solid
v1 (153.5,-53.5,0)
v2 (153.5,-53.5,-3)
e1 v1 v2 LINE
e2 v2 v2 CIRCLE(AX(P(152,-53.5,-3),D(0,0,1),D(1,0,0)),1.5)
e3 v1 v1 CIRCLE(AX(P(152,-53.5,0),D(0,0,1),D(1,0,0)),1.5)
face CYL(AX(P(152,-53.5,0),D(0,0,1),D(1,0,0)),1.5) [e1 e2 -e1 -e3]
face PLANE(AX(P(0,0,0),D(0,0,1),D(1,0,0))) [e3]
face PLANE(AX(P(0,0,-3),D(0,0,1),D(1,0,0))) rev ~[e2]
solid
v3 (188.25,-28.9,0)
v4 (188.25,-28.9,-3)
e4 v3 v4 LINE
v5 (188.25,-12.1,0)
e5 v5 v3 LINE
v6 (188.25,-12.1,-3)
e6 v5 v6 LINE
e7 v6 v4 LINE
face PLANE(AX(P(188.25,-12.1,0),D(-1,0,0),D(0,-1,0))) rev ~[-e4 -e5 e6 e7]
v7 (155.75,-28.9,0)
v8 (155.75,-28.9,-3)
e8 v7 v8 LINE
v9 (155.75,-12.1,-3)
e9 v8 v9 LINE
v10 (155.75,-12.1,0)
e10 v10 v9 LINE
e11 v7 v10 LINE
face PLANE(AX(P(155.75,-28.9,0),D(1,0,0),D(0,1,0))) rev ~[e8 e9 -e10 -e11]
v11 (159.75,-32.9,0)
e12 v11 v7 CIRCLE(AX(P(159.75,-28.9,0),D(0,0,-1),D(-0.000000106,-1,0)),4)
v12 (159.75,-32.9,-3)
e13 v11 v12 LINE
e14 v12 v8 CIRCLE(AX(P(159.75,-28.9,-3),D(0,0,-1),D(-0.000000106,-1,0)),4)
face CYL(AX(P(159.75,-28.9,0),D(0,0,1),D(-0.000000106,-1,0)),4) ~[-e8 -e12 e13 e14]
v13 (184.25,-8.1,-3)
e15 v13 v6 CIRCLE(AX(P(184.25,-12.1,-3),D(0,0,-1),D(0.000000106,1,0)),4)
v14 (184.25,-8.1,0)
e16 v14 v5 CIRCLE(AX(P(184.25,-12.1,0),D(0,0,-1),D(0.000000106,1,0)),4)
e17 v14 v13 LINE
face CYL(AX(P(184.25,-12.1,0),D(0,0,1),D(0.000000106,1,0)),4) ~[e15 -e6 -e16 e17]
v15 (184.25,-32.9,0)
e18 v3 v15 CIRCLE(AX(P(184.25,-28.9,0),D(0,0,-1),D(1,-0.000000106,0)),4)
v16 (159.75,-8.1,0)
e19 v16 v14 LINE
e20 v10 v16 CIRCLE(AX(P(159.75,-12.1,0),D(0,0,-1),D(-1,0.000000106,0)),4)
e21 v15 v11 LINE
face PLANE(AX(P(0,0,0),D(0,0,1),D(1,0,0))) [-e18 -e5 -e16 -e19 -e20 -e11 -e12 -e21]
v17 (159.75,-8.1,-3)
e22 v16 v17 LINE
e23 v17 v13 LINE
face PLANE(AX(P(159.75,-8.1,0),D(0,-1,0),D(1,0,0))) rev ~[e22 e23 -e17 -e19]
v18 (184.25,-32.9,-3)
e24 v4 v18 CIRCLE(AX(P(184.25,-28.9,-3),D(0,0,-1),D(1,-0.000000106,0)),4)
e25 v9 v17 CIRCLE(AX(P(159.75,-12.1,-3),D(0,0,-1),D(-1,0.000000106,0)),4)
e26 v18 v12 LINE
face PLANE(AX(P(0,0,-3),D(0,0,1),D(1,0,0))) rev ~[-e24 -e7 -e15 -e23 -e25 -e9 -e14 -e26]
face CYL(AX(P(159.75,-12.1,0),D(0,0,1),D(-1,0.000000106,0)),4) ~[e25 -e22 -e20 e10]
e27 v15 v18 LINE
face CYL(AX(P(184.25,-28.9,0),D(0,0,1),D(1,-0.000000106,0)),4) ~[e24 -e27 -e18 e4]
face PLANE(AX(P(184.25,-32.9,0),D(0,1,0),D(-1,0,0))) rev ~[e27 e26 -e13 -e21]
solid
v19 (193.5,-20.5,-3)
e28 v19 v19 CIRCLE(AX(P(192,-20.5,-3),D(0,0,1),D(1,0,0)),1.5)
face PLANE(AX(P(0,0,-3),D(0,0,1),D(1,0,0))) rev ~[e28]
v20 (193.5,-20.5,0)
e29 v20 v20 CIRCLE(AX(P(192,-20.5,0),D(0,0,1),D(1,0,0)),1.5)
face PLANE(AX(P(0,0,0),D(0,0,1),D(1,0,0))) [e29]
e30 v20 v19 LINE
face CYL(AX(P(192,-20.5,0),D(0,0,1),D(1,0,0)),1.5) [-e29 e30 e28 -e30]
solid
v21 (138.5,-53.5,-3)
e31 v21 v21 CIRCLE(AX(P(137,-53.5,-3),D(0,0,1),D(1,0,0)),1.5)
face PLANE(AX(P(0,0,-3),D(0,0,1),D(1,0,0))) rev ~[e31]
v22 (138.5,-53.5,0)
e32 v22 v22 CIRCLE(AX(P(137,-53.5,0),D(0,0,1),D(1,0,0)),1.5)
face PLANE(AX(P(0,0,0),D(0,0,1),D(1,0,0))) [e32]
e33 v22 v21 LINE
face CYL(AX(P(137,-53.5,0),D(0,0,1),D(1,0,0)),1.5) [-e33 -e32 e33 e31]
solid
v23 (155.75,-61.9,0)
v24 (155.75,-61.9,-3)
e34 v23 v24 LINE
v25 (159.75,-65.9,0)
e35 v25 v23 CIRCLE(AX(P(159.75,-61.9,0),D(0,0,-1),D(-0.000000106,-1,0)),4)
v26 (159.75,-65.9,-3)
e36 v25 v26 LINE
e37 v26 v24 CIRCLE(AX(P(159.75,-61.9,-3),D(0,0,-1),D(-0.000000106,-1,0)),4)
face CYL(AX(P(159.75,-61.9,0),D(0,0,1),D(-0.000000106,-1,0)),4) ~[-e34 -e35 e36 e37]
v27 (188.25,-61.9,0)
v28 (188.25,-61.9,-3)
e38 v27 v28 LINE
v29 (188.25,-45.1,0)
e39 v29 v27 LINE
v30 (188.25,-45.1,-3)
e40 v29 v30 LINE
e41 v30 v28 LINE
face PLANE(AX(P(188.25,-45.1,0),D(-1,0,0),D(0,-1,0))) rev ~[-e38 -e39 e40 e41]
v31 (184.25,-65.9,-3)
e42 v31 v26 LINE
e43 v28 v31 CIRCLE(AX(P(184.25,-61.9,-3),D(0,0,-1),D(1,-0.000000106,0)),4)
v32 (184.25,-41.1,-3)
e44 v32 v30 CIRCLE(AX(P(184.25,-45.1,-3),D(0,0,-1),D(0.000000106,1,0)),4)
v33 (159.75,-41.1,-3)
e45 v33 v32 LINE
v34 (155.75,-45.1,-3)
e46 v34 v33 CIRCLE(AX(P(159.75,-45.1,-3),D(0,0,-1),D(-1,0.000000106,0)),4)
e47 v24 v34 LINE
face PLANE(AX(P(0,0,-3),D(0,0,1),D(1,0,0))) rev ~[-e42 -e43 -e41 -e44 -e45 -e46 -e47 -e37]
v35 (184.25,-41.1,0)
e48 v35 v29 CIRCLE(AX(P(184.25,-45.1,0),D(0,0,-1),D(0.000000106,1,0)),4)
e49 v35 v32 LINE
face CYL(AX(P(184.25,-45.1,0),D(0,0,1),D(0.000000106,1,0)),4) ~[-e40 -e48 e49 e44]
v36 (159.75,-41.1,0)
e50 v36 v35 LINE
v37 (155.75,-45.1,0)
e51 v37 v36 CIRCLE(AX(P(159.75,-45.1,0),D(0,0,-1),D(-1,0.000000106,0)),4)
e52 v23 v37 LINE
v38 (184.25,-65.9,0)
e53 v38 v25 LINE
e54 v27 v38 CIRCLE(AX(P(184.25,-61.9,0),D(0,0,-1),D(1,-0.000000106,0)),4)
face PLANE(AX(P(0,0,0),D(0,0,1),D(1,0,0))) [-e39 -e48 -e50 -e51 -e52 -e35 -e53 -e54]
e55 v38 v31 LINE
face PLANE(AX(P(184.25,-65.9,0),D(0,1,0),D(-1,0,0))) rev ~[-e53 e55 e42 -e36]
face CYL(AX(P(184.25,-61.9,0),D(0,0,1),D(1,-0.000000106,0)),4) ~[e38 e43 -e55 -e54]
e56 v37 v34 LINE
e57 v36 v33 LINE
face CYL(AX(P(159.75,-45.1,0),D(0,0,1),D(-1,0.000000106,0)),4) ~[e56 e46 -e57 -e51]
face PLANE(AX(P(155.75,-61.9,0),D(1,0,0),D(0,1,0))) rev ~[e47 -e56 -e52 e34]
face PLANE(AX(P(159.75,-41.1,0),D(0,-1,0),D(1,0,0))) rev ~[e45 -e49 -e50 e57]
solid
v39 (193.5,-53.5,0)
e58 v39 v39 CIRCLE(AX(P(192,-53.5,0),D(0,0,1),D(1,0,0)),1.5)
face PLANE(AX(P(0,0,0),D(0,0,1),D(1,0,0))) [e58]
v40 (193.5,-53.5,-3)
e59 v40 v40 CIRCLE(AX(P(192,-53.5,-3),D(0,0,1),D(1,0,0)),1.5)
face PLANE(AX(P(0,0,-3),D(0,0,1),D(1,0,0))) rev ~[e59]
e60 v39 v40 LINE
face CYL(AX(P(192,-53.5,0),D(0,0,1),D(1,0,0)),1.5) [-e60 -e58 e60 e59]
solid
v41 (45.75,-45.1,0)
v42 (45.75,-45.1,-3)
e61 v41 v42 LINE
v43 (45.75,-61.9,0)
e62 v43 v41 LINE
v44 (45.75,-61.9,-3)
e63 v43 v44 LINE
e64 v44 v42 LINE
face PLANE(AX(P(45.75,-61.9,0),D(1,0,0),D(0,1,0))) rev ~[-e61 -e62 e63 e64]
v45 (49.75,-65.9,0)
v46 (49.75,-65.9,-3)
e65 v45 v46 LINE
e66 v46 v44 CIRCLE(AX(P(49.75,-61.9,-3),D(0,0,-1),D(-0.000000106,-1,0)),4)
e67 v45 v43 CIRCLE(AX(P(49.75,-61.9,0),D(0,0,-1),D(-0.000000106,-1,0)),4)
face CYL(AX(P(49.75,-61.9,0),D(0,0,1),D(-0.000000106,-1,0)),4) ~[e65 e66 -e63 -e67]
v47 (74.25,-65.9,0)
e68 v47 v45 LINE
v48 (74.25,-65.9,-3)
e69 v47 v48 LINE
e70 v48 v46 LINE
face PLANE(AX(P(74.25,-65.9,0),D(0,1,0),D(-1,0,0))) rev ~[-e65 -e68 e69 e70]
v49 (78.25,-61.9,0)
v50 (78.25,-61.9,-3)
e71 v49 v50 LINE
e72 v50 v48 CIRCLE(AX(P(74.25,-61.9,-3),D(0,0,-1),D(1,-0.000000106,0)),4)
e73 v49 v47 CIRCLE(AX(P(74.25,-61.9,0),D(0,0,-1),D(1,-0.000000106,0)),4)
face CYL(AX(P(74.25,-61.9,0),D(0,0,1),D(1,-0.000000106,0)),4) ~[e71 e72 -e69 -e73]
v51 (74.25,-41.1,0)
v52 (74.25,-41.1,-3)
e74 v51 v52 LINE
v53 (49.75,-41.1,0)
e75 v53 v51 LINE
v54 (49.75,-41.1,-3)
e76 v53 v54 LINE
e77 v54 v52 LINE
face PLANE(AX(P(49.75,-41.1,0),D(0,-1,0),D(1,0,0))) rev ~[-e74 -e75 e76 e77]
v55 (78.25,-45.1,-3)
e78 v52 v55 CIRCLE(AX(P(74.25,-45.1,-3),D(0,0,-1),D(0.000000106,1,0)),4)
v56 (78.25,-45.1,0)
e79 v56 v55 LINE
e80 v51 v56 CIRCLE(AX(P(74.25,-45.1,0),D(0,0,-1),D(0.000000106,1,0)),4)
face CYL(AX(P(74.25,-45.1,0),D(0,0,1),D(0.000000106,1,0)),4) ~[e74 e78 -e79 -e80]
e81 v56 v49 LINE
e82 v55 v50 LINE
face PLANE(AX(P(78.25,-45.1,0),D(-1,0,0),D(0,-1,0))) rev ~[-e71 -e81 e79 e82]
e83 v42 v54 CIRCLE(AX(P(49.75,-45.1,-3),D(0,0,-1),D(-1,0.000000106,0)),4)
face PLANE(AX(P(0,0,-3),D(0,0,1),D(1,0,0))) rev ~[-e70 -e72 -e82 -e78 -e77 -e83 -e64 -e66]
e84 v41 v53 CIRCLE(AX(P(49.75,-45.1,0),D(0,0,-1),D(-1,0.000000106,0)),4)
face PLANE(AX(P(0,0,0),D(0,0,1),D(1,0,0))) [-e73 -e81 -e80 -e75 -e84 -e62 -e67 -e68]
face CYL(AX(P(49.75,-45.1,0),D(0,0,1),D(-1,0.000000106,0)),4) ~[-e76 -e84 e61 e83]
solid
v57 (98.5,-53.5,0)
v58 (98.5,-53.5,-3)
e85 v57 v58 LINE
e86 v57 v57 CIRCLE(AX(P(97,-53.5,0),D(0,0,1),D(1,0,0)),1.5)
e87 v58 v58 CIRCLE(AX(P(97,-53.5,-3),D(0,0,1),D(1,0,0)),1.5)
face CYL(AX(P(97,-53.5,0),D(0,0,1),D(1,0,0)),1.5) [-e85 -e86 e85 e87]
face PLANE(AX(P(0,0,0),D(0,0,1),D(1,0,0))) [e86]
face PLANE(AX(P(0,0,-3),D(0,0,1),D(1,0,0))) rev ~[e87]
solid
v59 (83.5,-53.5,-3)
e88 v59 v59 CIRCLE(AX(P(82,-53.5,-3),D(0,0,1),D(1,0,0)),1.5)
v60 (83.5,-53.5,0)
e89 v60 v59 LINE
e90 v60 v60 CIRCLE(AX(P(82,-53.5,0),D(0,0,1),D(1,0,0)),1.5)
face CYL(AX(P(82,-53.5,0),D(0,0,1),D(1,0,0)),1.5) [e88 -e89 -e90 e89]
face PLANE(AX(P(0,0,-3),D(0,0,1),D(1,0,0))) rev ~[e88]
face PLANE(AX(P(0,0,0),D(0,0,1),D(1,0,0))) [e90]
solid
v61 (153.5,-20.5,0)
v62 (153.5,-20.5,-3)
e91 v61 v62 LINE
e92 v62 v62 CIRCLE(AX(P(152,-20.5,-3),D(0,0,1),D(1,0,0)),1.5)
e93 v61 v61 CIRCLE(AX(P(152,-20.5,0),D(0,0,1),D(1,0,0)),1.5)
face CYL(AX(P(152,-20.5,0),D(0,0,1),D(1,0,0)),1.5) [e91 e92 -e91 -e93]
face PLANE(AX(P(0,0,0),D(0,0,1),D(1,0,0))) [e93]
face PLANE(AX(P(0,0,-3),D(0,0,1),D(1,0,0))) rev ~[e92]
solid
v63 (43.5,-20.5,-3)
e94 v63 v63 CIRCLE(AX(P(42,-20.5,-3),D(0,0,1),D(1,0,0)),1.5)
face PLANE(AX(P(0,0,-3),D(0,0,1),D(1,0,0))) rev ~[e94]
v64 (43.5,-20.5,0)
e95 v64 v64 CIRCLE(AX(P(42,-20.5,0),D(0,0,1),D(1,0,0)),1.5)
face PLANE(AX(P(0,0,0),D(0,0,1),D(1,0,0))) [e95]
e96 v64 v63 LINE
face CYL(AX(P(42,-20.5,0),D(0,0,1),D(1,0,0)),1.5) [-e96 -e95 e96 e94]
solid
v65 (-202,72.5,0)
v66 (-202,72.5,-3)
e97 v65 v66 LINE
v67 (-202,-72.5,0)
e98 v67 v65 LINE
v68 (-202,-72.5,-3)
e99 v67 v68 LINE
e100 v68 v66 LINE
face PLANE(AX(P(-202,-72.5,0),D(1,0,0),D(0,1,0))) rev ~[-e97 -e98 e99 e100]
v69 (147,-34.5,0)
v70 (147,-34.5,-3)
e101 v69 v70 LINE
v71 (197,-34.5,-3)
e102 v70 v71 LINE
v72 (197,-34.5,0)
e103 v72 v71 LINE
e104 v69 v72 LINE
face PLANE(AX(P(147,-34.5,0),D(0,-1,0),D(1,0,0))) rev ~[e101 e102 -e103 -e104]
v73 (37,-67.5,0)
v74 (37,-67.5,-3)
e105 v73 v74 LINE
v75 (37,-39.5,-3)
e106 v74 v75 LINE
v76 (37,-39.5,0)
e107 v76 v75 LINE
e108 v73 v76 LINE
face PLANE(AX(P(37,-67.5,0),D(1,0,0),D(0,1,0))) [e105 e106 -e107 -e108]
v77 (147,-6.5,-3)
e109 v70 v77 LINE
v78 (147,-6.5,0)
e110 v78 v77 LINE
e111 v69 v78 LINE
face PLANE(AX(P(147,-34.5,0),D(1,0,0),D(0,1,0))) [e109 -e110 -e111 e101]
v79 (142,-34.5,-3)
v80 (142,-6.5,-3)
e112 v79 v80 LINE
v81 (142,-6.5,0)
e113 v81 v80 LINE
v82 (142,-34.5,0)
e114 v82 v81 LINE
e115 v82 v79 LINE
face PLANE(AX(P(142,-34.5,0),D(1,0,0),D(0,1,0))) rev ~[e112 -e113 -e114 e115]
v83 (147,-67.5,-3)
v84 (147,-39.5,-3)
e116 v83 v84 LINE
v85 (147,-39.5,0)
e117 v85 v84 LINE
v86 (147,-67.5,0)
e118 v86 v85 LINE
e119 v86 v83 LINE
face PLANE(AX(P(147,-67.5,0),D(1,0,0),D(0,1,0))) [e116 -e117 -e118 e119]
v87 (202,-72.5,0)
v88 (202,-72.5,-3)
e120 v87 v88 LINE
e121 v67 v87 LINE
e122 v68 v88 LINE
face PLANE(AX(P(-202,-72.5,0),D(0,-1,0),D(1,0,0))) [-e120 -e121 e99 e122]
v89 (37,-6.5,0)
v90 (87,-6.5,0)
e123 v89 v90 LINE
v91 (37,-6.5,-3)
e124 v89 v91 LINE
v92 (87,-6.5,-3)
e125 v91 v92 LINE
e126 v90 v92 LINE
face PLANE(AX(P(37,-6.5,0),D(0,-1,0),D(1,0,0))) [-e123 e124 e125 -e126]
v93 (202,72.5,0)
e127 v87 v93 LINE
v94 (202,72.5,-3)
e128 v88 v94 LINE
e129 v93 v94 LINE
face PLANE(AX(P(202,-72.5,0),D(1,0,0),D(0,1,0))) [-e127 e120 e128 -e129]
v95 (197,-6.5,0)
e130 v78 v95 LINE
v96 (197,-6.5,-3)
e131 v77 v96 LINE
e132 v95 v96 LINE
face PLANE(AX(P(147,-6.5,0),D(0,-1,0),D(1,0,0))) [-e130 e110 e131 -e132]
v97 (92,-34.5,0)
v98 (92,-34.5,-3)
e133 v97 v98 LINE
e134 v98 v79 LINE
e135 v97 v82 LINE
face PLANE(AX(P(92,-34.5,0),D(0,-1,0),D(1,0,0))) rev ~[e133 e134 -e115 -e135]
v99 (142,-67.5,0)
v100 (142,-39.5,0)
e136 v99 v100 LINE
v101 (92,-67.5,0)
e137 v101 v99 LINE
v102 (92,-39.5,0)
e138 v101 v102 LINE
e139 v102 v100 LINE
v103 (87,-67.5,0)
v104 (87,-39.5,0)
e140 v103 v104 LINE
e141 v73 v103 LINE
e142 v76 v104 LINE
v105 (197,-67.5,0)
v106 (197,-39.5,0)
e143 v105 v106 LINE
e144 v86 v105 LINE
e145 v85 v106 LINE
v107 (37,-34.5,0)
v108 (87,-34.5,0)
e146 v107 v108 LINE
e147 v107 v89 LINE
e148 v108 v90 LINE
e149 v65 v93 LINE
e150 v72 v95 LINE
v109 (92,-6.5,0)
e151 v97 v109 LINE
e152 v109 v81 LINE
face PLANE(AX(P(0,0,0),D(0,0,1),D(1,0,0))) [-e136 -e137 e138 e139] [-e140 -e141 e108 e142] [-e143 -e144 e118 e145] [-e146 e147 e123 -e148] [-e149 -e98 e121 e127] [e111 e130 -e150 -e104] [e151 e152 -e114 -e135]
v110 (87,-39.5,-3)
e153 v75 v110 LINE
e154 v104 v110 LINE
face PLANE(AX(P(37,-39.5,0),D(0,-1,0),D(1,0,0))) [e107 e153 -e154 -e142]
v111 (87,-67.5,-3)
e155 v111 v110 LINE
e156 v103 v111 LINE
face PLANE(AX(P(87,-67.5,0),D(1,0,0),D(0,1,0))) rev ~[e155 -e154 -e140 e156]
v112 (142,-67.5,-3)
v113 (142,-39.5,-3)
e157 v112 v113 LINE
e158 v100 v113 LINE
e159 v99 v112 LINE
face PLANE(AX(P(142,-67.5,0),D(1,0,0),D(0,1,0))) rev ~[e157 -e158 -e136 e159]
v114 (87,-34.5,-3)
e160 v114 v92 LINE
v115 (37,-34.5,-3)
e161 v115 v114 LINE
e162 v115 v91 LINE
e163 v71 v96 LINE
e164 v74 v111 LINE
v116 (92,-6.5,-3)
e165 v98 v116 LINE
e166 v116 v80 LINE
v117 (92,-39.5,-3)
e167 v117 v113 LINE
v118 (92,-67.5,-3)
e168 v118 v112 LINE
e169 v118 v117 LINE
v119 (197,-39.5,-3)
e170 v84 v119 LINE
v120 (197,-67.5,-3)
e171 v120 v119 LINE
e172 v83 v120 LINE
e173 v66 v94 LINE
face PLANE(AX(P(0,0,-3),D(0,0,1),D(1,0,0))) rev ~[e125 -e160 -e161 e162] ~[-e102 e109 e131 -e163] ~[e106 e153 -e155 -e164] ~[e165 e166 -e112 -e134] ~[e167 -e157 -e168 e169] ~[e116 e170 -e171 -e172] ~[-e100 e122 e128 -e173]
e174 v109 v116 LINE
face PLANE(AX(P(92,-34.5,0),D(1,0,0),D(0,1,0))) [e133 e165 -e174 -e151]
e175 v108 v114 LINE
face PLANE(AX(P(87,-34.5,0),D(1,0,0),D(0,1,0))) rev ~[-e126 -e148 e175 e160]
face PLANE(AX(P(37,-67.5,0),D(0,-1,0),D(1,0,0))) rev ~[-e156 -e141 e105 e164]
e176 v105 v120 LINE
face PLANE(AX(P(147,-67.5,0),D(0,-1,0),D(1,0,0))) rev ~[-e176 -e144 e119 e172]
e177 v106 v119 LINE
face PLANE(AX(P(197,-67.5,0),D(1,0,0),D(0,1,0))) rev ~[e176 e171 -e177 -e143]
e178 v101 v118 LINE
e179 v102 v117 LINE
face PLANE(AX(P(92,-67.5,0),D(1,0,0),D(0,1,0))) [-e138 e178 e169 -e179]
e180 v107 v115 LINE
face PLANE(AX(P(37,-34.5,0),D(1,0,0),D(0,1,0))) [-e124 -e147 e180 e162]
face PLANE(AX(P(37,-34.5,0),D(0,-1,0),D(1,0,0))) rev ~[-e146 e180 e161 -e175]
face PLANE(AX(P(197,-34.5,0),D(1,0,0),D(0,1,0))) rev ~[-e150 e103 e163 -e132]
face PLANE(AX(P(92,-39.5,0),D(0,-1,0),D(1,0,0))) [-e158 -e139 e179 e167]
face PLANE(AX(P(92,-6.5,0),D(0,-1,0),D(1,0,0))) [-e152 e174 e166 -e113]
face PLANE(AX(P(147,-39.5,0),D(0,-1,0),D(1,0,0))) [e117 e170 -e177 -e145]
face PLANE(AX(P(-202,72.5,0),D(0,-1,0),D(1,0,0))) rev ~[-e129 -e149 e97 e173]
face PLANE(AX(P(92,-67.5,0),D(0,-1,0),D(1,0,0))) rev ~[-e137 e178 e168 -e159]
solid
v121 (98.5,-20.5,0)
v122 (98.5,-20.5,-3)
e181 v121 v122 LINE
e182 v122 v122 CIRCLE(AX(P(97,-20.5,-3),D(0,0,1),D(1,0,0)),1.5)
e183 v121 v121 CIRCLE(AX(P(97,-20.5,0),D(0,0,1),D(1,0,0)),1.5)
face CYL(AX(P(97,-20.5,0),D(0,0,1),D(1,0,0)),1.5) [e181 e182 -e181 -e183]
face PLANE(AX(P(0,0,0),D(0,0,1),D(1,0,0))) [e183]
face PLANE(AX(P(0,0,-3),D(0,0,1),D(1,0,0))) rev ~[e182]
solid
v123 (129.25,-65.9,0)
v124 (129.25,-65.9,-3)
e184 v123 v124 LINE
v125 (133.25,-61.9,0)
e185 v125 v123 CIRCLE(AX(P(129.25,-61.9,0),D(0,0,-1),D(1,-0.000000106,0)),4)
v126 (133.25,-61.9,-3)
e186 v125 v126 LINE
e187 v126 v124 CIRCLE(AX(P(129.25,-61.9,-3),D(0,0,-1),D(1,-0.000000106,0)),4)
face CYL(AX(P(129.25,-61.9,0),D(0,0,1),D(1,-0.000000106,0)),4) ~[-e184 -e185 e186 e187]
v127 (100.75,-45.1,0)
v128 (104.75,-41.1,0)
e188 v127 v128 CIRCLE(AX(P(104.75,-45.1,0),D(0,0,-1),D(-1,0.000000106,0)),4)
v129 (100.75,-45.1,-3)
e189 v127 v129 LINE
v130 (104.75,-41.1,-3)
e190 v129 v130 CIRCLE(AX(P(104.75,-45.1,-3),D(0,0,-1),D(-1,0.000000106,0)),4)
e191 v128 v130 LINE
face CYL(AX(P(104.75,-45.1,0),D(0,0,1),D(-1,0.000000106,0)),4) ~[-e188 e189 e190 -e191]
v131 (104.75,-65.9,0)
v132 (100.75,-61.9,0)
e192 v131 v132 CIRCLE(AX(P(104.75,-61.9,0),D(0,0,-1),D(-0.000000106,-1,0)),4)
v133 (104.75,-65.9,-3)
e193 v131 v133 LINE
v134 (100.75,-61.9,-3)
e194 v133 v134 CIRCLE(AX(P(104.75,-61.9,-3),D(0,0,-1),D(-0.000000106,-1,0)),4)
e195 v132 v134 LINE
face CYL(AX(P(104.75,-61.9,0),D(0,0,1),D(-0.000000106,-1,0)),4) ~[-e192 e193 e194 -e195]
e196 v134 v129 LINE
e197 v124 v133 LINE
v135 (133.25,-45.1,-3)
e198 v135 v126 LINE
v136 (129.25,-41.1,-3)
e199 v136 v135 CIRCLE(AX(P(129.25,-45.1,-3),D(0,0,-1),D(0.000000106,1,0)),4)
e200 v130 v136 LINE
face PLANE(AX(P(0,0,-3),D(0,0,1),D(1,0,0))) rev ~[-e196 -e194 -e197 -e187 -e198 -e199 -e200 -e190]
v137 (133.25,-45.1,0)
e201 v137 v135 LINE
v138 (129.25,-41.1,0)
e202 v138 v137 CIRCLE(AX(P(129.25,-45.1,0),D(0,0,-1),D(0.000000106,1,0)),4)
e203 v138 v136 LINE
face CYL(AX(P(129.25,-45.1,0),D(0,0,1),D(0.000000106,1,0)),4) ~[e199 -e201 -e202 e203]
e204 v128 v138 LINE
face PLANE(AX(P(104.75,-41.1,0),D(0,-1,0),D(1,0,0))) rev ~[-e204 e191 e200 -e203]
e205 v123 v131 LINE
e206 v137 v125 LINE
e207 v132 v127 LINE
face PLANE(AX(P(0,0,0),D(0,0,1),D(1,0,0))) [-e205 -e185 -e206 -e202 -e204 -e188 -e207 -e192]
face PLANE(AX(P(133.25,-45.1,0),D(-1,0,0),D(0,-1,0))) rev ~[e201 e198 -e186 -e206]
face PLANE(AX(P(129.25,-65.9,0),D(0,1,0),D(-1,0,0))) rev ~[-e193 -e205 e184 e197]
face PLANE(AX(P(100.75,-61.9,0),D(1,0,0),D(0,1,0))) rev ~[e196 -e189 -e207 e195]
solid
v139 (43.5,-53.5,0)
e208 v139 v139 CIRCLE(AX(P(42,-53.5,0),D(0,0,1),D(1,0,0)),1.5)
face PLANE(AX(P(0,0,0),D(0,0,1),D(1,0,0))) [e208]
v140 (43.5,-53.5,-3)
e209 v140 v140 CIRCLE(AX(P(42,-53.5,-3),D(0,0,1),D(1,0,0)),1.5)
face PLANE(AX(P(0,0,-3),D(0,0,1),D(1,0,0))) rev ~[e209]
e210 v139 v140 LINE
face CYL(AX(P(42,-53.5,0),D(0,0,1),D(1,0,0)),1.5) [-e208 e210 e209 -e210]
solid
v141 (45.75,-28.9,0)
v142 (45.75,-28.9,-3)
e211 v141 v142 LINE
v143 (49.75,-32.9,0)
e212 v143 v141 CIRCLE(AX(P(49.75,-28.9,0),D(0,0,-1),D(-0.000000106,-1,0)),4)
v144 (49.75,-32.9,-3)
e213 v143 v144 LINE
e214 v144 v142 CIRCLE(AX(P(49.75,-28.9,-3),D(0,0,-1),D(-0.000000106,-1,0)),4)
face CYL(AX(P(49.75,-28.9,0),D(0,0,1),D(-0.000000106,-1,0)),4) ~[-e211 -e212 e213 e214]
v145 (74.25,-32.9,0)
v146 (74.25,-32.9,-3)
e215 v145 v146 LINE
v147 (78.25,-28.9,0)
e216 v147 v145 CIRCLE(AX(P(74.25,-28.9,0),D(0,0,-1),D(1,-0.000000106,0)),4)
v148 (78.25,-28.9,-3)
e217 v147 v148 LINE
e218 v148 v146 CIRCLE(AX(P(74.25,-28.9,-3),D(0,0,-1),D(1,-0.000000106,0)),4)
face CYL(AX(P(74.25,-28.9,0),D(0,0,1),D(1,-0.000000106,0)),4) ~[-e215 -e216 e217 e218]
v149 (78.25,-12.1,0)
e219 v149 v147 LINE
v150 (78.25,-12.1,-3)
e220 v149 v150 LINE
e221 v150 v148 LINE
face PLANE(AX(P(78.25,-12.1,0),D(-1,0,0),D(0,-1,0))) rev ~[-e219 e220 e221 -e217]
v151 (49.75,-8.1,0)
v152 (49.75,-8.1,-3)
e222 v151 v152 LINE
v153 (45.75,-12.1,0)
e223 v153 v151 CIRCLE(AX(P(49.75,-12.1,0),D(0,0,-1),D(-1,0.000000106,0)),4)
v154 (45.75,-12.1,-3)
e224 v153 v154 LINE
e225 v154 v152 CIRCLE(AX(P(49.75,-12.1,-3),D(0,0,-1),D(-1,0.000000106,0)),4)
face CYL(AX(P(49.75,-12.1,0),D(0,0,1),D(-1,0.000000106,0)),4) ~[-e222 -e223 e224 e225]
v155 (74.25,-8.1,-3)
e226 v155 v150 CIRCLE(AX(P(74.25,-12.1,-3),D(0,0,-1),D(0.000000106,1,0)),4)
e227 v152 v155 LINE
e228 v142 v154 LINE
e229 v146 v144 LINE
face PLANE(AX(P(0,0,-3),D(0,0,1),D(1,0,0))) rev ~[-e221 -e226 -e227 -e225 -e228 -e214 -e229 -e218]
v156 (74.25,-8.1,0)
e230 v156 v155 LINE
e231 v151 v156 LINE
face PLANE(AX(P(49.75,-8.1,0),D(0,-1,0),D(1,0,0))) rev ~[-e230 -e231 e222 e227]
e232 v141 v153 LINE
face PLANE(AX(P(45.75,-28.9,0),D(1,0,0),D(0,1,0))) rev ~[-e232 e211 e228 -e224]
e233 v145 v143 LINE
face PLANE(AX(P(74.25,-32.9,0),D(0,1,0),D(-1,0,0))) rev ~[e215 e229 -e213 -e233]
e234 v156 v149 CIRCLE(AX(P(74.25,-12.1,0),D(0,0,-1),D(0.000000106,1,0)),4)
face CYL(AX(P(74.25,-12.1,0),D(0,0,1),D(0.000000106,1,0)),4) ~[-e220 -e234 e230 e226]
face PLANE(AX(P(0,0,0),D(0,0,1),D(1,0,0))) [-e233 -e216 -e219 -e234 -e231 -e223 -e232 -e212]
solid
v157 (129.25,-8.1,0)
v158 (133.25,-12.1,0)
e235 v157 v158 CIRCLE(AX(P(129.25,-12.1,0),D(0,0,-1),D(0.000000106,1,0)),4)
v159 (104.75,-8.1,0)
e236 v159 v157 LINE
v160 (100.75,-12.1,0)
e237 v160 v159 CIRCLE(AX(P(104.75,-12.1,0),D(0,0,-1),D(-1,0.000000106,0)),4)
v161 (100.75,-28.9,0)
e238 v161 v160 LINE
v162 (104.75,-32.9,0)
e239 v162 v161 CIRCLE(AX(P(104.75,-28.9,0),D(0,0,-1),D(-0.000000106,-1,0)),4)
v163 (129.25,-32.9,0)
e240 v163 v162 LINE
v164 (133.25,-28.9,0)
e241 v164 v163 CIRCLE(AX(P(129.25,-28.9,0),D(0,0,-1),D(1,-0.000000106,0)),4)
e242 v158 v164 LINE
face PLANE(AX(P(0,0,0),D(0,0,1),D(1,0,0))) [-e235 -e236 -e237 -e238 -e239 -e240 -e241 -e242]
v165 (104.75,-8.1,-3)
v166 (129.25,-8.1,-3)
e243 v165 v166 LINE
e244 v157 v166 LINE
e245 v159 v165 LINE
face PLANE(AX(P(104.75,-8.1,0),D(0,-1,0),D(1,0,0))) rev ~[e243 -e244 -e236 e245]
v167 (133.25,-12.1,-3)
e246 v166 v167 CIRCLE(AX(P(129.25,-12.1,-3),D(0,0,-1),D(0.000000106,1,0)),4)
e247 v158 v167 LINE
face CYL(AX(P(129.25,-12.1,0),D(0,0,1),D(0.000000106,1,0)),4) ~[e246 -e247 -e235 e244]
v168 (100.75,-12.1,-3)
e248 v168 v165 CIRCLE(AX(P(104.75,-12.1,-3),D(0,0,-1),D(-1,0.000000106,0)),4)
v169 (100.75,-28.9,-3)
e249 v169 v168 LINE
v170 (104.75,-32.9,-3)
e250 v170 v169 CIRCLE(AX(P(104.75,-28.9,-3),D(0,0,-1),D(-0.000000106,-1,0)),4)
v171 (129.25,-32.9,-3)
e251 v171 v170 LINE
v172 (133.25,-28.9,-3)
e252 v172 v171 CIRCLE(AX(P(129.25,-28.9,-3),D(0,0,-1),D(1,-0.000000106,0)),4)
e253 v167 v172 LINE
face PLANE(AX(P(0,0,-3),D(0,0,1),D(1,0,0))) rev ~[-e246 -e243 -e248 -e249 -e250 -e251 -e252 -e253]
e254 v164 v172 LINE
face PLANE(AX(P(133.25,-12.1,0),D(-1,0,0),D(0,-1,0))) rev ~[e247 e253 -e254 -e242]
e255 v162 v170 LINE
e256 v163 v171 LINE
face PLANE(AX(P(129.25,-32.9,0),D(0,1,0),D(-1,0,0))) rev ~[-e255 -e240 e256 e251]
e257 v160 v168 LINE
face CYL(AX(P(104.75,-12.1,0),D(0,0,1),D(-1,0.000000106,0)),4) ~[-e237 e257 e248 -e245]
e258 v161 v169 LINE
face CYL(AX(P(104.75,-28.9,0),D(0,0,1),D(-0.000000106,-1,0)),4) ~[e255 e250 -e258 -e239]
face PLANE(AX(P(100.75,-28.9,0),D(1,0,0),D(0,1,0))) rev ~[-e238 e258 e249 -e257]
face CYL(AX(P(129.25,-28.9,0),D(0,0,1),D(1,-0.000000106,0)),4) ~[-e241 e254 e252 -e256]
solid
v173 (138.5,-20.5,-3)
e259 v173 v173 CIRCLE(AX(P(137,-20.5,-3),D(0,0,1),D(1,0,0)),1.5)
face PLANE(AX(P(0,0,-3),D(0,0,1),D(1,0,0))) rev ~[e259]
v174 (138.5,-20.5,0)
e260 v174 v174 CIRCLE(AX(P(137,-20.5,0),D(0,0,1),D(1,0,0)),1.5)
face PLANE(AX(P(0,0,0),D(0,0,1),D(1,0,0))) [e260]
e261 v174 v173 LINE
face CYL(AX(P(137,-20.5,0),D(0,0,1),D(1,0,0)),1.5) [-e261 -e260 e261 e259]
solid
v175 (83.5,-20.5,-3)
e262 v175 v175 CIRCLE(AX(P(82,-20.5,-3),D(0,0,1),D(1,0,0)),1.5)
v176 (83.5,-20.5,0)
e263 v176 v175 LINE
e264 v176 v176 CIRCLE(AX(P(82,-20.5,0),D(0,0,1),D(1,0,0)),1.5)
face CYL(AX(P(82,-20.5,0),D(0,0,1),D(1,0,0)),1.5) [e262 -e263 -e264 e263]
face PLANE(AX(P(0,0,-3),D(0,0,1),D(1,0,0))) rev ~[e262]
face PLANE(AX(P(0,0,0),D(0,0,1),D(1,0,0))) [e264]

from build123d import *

# Parameters (mm, degrees)
F0_W     = 404
F0_H     = 145
F2_DEPTH = 3
F1_W     = 50
F1_H     = 28
F1_R     = 1.5
F3_DEPTH = 3


with BuildPart() as f2:
    # F0 (on Top) → F2 (new body)
    with BuildSketch(Plane.XY):
        Rectangle(F0_W, F0_H)
    extrude(amount=-F2_DEPTH)

    # F1 (on Top) → F3 (cut, through all)
    with BuildSketch(Plane.XY):
        with Locations((172, -53.5)):
            Rectangle(F1_W, F1_H)
        with Locations((152, -53.5)):
            Circle(F1_R, mode=Mode.SUBTRACT)
        with BuildLine():
            ThreePointArc((188.25, -61.9), (187.078427, -64.728427), (184.25, -65.9))
            Line((184.25, -65.9), (159.75, -65.9))
            ThreePointArc((159.75, -65.9), (156.921573, -64.728427), (155.75, -61.9))
            Line((155.75, -61.9), (155.75, -45.1))
            ThreePointArc((155.75, -45.1), (156.921573, -42.271573), (159.75, -41.1))
            Line((159.75, -41.1), (184.25, -41.1))
            ThreePointArc((184.25, -41.1), (187.078427, -42.271573), (188.25, -45.1))
            Line((188.25, -45.1), (188.25, -61.9))
        make_face(mode=Mode.SUBTRACT)
        with Locations((192, -53.5)):
            Circle(F1_R, mode=Mode.SUBTRACT)
        with Locations((117, -53.5)):
            Rectangle(F1_W, F1_H)
        with Locations((97, -53.5)):
            Circle(F1_R, mode=Mode.SUBTRACT)
        with BuildLine():
            ThreePointArc((133.25, -61.9), (132.078427, -64.728427), (129.25, -65.9))
            Line((129.25, -65.9), (104.75, -65.9))
            ThreePointArc((104.75, -65.9), (101.921573, -64.728427), (100.75, -61.9))
            Line((100.75, -61.9), (100.75, -45.1))
            ThreePointArc((100.75, -45.1), (101.921573, -42.271573), (104.75, -41.1))
            Line((104.75, -41.1), (129.25, -41.1))
            ThreePointArc((129.25, -41.1), (132.078427, -42.271573), (133.25, -45.1))
            Line((133.25, -45.1), (133.25, -61.9))
        make_face(mode=Mode.SUBTRACT)
        with Locations((137, -53.5)):
            Circle(F1_R, mode=Mode.SUBTRACT)
        with Locations((172, -20.5)):
            Rectangle(F1_W, F1_H)
        with Locations((152, -20.5)):
            Circle(F1_R, mode=Mode.SUBTRACT)
        with BuildLine():
            ThreePointArc((188.25, -28.9), (187.078427, -31.728427), (184.25, -32.9))
            Line((184.25, -32.9), (159.75, -32.9))
            ThreePointArc((159.75, -32.9), (156.921573, -31.728427), (155.75, -28.9))
            Line((155.75, -28.9), (155.75, -12.1))
            ThreePointArc((155.75, -12.1), (156.921573, -9.271573), (159.75, -8.1))
            Line((159.75, -8.1), (184.25, -8.1))
            ThreePointArc((184.25, -8.1), (187.078427, -9.271573), (188.25, -12.1))
            Line((188.25, -12.1), (188.25, -28.9))
        make_face(mode=Mode.SUBTRACT)
        with Locations((192, -20.5)):
            Circle(F1_R, mode=Mode.SUBTRACT)
        with Locations((117, -20.5)):
            Rectangle(F1_W, F1_H)
        with Locations((97, -20.5)):
            Circle(F1_R, mode=Mode.SUBTRACT)
        with BuildLine():
            ThreePointArc((133.25, -28.9), (132.078427, -31.728427), (129.25, -32.9))
            Line((129.25, -32.9), (104.75, -32.9))
            ThreePointArc((104.75, -32.9), (101.921573, -31.728427), (100.75, -28.9))
            Line((100.75, -28.9), (100.75, -12.1))
            ThreePointArc((100.75, -12.1), (101.921573, -9.271573), (104.75, -8.1))
            Line((104.75, -8.1), (129.25, -8.1))
            ThreePointArc((129.25, -8.1), (132.078427, -9.271573), (133.25, -12.1))
            Line((133.25, -12.1), (133.25, -28.9))
        make_face(mode=Mode.SUBTRACT)
        with Locations((137, -20.5)):
            Circle(F1_R, mode=Mode.SUBTRACT)
        with Locations((62, -53.5)):
            Rectangle(F1_W, F1_H)
        with Locations((42, -53.5)):
            Circle(F1_R, mode=Mode.SUBTRACT)
        with BuildLine():
            ThreePointArc((78.25, -61.9), (77.078427, -64.728427), (74.25, -65.9))
            Line((74.25, -65.9), (49.75, -65.9))
            ThreePointArc((49.75, -65.9), (46.921573, -64.728427), (45.75, -61.9))
            Line((45.75, -61.9), (45.75, -45.1))
            ThreePointArc((45.75, -45.1), (46.921573, -42.271573), (49.75, -41.1))
            Line((49.75, -41.1), (74.25, -41.1))
            ThreePointArc((74.25, -41.1), (77.078427, -42.271573), (78.25, -45.1))
            Line((78.25, -45.1), (78.25, -61.9))
        make_face(mode=Mode.SUBTRACT)
        with Locations((82, -53.5)):
            Circle(F1_R, mode=Mode.SUBTRACT)
        with Locations((62, -20.5)):
            Rectangle(F1_W, F1_H)
        with Locations((42, -20.5)):
            Circle(F1_R, mode=Mode.SUBTRACT)
        with BuildLine():
            ThreePointArc((78.25, -28.9), (77.078427, -31.728427), (74.25, -32.9))
            Line((74.25, -32.9), (49.75, -32.9))
            ThreePointArc((49.75, -32.9), (46.921573, -31.728427), (45.75, -28.9))
            Line((45.75, -28.9), (45.75, -12.1))
            ThreePointArc((45.75, -12.1), (46.921573, -9.271573), (49.75, -8.1))
            Line((49.75, -8.1), (74.25, -8.1))
            ThreePointArc((74.25, -8.1), (77.078427, -9.271573), (78.25, -12.1))
            Line((78.25, -12.1), (78.25, -28.9))
        make_face(mode=Mode.SUBTRACT)
        with Locations((82, -20.5)):
            Circle(F1_R, mode=Mode.SUBTRACT)
    extrude(amount=-F3_DEPTH, mode=Mode.SUBTRACT)


solid = f2.part
